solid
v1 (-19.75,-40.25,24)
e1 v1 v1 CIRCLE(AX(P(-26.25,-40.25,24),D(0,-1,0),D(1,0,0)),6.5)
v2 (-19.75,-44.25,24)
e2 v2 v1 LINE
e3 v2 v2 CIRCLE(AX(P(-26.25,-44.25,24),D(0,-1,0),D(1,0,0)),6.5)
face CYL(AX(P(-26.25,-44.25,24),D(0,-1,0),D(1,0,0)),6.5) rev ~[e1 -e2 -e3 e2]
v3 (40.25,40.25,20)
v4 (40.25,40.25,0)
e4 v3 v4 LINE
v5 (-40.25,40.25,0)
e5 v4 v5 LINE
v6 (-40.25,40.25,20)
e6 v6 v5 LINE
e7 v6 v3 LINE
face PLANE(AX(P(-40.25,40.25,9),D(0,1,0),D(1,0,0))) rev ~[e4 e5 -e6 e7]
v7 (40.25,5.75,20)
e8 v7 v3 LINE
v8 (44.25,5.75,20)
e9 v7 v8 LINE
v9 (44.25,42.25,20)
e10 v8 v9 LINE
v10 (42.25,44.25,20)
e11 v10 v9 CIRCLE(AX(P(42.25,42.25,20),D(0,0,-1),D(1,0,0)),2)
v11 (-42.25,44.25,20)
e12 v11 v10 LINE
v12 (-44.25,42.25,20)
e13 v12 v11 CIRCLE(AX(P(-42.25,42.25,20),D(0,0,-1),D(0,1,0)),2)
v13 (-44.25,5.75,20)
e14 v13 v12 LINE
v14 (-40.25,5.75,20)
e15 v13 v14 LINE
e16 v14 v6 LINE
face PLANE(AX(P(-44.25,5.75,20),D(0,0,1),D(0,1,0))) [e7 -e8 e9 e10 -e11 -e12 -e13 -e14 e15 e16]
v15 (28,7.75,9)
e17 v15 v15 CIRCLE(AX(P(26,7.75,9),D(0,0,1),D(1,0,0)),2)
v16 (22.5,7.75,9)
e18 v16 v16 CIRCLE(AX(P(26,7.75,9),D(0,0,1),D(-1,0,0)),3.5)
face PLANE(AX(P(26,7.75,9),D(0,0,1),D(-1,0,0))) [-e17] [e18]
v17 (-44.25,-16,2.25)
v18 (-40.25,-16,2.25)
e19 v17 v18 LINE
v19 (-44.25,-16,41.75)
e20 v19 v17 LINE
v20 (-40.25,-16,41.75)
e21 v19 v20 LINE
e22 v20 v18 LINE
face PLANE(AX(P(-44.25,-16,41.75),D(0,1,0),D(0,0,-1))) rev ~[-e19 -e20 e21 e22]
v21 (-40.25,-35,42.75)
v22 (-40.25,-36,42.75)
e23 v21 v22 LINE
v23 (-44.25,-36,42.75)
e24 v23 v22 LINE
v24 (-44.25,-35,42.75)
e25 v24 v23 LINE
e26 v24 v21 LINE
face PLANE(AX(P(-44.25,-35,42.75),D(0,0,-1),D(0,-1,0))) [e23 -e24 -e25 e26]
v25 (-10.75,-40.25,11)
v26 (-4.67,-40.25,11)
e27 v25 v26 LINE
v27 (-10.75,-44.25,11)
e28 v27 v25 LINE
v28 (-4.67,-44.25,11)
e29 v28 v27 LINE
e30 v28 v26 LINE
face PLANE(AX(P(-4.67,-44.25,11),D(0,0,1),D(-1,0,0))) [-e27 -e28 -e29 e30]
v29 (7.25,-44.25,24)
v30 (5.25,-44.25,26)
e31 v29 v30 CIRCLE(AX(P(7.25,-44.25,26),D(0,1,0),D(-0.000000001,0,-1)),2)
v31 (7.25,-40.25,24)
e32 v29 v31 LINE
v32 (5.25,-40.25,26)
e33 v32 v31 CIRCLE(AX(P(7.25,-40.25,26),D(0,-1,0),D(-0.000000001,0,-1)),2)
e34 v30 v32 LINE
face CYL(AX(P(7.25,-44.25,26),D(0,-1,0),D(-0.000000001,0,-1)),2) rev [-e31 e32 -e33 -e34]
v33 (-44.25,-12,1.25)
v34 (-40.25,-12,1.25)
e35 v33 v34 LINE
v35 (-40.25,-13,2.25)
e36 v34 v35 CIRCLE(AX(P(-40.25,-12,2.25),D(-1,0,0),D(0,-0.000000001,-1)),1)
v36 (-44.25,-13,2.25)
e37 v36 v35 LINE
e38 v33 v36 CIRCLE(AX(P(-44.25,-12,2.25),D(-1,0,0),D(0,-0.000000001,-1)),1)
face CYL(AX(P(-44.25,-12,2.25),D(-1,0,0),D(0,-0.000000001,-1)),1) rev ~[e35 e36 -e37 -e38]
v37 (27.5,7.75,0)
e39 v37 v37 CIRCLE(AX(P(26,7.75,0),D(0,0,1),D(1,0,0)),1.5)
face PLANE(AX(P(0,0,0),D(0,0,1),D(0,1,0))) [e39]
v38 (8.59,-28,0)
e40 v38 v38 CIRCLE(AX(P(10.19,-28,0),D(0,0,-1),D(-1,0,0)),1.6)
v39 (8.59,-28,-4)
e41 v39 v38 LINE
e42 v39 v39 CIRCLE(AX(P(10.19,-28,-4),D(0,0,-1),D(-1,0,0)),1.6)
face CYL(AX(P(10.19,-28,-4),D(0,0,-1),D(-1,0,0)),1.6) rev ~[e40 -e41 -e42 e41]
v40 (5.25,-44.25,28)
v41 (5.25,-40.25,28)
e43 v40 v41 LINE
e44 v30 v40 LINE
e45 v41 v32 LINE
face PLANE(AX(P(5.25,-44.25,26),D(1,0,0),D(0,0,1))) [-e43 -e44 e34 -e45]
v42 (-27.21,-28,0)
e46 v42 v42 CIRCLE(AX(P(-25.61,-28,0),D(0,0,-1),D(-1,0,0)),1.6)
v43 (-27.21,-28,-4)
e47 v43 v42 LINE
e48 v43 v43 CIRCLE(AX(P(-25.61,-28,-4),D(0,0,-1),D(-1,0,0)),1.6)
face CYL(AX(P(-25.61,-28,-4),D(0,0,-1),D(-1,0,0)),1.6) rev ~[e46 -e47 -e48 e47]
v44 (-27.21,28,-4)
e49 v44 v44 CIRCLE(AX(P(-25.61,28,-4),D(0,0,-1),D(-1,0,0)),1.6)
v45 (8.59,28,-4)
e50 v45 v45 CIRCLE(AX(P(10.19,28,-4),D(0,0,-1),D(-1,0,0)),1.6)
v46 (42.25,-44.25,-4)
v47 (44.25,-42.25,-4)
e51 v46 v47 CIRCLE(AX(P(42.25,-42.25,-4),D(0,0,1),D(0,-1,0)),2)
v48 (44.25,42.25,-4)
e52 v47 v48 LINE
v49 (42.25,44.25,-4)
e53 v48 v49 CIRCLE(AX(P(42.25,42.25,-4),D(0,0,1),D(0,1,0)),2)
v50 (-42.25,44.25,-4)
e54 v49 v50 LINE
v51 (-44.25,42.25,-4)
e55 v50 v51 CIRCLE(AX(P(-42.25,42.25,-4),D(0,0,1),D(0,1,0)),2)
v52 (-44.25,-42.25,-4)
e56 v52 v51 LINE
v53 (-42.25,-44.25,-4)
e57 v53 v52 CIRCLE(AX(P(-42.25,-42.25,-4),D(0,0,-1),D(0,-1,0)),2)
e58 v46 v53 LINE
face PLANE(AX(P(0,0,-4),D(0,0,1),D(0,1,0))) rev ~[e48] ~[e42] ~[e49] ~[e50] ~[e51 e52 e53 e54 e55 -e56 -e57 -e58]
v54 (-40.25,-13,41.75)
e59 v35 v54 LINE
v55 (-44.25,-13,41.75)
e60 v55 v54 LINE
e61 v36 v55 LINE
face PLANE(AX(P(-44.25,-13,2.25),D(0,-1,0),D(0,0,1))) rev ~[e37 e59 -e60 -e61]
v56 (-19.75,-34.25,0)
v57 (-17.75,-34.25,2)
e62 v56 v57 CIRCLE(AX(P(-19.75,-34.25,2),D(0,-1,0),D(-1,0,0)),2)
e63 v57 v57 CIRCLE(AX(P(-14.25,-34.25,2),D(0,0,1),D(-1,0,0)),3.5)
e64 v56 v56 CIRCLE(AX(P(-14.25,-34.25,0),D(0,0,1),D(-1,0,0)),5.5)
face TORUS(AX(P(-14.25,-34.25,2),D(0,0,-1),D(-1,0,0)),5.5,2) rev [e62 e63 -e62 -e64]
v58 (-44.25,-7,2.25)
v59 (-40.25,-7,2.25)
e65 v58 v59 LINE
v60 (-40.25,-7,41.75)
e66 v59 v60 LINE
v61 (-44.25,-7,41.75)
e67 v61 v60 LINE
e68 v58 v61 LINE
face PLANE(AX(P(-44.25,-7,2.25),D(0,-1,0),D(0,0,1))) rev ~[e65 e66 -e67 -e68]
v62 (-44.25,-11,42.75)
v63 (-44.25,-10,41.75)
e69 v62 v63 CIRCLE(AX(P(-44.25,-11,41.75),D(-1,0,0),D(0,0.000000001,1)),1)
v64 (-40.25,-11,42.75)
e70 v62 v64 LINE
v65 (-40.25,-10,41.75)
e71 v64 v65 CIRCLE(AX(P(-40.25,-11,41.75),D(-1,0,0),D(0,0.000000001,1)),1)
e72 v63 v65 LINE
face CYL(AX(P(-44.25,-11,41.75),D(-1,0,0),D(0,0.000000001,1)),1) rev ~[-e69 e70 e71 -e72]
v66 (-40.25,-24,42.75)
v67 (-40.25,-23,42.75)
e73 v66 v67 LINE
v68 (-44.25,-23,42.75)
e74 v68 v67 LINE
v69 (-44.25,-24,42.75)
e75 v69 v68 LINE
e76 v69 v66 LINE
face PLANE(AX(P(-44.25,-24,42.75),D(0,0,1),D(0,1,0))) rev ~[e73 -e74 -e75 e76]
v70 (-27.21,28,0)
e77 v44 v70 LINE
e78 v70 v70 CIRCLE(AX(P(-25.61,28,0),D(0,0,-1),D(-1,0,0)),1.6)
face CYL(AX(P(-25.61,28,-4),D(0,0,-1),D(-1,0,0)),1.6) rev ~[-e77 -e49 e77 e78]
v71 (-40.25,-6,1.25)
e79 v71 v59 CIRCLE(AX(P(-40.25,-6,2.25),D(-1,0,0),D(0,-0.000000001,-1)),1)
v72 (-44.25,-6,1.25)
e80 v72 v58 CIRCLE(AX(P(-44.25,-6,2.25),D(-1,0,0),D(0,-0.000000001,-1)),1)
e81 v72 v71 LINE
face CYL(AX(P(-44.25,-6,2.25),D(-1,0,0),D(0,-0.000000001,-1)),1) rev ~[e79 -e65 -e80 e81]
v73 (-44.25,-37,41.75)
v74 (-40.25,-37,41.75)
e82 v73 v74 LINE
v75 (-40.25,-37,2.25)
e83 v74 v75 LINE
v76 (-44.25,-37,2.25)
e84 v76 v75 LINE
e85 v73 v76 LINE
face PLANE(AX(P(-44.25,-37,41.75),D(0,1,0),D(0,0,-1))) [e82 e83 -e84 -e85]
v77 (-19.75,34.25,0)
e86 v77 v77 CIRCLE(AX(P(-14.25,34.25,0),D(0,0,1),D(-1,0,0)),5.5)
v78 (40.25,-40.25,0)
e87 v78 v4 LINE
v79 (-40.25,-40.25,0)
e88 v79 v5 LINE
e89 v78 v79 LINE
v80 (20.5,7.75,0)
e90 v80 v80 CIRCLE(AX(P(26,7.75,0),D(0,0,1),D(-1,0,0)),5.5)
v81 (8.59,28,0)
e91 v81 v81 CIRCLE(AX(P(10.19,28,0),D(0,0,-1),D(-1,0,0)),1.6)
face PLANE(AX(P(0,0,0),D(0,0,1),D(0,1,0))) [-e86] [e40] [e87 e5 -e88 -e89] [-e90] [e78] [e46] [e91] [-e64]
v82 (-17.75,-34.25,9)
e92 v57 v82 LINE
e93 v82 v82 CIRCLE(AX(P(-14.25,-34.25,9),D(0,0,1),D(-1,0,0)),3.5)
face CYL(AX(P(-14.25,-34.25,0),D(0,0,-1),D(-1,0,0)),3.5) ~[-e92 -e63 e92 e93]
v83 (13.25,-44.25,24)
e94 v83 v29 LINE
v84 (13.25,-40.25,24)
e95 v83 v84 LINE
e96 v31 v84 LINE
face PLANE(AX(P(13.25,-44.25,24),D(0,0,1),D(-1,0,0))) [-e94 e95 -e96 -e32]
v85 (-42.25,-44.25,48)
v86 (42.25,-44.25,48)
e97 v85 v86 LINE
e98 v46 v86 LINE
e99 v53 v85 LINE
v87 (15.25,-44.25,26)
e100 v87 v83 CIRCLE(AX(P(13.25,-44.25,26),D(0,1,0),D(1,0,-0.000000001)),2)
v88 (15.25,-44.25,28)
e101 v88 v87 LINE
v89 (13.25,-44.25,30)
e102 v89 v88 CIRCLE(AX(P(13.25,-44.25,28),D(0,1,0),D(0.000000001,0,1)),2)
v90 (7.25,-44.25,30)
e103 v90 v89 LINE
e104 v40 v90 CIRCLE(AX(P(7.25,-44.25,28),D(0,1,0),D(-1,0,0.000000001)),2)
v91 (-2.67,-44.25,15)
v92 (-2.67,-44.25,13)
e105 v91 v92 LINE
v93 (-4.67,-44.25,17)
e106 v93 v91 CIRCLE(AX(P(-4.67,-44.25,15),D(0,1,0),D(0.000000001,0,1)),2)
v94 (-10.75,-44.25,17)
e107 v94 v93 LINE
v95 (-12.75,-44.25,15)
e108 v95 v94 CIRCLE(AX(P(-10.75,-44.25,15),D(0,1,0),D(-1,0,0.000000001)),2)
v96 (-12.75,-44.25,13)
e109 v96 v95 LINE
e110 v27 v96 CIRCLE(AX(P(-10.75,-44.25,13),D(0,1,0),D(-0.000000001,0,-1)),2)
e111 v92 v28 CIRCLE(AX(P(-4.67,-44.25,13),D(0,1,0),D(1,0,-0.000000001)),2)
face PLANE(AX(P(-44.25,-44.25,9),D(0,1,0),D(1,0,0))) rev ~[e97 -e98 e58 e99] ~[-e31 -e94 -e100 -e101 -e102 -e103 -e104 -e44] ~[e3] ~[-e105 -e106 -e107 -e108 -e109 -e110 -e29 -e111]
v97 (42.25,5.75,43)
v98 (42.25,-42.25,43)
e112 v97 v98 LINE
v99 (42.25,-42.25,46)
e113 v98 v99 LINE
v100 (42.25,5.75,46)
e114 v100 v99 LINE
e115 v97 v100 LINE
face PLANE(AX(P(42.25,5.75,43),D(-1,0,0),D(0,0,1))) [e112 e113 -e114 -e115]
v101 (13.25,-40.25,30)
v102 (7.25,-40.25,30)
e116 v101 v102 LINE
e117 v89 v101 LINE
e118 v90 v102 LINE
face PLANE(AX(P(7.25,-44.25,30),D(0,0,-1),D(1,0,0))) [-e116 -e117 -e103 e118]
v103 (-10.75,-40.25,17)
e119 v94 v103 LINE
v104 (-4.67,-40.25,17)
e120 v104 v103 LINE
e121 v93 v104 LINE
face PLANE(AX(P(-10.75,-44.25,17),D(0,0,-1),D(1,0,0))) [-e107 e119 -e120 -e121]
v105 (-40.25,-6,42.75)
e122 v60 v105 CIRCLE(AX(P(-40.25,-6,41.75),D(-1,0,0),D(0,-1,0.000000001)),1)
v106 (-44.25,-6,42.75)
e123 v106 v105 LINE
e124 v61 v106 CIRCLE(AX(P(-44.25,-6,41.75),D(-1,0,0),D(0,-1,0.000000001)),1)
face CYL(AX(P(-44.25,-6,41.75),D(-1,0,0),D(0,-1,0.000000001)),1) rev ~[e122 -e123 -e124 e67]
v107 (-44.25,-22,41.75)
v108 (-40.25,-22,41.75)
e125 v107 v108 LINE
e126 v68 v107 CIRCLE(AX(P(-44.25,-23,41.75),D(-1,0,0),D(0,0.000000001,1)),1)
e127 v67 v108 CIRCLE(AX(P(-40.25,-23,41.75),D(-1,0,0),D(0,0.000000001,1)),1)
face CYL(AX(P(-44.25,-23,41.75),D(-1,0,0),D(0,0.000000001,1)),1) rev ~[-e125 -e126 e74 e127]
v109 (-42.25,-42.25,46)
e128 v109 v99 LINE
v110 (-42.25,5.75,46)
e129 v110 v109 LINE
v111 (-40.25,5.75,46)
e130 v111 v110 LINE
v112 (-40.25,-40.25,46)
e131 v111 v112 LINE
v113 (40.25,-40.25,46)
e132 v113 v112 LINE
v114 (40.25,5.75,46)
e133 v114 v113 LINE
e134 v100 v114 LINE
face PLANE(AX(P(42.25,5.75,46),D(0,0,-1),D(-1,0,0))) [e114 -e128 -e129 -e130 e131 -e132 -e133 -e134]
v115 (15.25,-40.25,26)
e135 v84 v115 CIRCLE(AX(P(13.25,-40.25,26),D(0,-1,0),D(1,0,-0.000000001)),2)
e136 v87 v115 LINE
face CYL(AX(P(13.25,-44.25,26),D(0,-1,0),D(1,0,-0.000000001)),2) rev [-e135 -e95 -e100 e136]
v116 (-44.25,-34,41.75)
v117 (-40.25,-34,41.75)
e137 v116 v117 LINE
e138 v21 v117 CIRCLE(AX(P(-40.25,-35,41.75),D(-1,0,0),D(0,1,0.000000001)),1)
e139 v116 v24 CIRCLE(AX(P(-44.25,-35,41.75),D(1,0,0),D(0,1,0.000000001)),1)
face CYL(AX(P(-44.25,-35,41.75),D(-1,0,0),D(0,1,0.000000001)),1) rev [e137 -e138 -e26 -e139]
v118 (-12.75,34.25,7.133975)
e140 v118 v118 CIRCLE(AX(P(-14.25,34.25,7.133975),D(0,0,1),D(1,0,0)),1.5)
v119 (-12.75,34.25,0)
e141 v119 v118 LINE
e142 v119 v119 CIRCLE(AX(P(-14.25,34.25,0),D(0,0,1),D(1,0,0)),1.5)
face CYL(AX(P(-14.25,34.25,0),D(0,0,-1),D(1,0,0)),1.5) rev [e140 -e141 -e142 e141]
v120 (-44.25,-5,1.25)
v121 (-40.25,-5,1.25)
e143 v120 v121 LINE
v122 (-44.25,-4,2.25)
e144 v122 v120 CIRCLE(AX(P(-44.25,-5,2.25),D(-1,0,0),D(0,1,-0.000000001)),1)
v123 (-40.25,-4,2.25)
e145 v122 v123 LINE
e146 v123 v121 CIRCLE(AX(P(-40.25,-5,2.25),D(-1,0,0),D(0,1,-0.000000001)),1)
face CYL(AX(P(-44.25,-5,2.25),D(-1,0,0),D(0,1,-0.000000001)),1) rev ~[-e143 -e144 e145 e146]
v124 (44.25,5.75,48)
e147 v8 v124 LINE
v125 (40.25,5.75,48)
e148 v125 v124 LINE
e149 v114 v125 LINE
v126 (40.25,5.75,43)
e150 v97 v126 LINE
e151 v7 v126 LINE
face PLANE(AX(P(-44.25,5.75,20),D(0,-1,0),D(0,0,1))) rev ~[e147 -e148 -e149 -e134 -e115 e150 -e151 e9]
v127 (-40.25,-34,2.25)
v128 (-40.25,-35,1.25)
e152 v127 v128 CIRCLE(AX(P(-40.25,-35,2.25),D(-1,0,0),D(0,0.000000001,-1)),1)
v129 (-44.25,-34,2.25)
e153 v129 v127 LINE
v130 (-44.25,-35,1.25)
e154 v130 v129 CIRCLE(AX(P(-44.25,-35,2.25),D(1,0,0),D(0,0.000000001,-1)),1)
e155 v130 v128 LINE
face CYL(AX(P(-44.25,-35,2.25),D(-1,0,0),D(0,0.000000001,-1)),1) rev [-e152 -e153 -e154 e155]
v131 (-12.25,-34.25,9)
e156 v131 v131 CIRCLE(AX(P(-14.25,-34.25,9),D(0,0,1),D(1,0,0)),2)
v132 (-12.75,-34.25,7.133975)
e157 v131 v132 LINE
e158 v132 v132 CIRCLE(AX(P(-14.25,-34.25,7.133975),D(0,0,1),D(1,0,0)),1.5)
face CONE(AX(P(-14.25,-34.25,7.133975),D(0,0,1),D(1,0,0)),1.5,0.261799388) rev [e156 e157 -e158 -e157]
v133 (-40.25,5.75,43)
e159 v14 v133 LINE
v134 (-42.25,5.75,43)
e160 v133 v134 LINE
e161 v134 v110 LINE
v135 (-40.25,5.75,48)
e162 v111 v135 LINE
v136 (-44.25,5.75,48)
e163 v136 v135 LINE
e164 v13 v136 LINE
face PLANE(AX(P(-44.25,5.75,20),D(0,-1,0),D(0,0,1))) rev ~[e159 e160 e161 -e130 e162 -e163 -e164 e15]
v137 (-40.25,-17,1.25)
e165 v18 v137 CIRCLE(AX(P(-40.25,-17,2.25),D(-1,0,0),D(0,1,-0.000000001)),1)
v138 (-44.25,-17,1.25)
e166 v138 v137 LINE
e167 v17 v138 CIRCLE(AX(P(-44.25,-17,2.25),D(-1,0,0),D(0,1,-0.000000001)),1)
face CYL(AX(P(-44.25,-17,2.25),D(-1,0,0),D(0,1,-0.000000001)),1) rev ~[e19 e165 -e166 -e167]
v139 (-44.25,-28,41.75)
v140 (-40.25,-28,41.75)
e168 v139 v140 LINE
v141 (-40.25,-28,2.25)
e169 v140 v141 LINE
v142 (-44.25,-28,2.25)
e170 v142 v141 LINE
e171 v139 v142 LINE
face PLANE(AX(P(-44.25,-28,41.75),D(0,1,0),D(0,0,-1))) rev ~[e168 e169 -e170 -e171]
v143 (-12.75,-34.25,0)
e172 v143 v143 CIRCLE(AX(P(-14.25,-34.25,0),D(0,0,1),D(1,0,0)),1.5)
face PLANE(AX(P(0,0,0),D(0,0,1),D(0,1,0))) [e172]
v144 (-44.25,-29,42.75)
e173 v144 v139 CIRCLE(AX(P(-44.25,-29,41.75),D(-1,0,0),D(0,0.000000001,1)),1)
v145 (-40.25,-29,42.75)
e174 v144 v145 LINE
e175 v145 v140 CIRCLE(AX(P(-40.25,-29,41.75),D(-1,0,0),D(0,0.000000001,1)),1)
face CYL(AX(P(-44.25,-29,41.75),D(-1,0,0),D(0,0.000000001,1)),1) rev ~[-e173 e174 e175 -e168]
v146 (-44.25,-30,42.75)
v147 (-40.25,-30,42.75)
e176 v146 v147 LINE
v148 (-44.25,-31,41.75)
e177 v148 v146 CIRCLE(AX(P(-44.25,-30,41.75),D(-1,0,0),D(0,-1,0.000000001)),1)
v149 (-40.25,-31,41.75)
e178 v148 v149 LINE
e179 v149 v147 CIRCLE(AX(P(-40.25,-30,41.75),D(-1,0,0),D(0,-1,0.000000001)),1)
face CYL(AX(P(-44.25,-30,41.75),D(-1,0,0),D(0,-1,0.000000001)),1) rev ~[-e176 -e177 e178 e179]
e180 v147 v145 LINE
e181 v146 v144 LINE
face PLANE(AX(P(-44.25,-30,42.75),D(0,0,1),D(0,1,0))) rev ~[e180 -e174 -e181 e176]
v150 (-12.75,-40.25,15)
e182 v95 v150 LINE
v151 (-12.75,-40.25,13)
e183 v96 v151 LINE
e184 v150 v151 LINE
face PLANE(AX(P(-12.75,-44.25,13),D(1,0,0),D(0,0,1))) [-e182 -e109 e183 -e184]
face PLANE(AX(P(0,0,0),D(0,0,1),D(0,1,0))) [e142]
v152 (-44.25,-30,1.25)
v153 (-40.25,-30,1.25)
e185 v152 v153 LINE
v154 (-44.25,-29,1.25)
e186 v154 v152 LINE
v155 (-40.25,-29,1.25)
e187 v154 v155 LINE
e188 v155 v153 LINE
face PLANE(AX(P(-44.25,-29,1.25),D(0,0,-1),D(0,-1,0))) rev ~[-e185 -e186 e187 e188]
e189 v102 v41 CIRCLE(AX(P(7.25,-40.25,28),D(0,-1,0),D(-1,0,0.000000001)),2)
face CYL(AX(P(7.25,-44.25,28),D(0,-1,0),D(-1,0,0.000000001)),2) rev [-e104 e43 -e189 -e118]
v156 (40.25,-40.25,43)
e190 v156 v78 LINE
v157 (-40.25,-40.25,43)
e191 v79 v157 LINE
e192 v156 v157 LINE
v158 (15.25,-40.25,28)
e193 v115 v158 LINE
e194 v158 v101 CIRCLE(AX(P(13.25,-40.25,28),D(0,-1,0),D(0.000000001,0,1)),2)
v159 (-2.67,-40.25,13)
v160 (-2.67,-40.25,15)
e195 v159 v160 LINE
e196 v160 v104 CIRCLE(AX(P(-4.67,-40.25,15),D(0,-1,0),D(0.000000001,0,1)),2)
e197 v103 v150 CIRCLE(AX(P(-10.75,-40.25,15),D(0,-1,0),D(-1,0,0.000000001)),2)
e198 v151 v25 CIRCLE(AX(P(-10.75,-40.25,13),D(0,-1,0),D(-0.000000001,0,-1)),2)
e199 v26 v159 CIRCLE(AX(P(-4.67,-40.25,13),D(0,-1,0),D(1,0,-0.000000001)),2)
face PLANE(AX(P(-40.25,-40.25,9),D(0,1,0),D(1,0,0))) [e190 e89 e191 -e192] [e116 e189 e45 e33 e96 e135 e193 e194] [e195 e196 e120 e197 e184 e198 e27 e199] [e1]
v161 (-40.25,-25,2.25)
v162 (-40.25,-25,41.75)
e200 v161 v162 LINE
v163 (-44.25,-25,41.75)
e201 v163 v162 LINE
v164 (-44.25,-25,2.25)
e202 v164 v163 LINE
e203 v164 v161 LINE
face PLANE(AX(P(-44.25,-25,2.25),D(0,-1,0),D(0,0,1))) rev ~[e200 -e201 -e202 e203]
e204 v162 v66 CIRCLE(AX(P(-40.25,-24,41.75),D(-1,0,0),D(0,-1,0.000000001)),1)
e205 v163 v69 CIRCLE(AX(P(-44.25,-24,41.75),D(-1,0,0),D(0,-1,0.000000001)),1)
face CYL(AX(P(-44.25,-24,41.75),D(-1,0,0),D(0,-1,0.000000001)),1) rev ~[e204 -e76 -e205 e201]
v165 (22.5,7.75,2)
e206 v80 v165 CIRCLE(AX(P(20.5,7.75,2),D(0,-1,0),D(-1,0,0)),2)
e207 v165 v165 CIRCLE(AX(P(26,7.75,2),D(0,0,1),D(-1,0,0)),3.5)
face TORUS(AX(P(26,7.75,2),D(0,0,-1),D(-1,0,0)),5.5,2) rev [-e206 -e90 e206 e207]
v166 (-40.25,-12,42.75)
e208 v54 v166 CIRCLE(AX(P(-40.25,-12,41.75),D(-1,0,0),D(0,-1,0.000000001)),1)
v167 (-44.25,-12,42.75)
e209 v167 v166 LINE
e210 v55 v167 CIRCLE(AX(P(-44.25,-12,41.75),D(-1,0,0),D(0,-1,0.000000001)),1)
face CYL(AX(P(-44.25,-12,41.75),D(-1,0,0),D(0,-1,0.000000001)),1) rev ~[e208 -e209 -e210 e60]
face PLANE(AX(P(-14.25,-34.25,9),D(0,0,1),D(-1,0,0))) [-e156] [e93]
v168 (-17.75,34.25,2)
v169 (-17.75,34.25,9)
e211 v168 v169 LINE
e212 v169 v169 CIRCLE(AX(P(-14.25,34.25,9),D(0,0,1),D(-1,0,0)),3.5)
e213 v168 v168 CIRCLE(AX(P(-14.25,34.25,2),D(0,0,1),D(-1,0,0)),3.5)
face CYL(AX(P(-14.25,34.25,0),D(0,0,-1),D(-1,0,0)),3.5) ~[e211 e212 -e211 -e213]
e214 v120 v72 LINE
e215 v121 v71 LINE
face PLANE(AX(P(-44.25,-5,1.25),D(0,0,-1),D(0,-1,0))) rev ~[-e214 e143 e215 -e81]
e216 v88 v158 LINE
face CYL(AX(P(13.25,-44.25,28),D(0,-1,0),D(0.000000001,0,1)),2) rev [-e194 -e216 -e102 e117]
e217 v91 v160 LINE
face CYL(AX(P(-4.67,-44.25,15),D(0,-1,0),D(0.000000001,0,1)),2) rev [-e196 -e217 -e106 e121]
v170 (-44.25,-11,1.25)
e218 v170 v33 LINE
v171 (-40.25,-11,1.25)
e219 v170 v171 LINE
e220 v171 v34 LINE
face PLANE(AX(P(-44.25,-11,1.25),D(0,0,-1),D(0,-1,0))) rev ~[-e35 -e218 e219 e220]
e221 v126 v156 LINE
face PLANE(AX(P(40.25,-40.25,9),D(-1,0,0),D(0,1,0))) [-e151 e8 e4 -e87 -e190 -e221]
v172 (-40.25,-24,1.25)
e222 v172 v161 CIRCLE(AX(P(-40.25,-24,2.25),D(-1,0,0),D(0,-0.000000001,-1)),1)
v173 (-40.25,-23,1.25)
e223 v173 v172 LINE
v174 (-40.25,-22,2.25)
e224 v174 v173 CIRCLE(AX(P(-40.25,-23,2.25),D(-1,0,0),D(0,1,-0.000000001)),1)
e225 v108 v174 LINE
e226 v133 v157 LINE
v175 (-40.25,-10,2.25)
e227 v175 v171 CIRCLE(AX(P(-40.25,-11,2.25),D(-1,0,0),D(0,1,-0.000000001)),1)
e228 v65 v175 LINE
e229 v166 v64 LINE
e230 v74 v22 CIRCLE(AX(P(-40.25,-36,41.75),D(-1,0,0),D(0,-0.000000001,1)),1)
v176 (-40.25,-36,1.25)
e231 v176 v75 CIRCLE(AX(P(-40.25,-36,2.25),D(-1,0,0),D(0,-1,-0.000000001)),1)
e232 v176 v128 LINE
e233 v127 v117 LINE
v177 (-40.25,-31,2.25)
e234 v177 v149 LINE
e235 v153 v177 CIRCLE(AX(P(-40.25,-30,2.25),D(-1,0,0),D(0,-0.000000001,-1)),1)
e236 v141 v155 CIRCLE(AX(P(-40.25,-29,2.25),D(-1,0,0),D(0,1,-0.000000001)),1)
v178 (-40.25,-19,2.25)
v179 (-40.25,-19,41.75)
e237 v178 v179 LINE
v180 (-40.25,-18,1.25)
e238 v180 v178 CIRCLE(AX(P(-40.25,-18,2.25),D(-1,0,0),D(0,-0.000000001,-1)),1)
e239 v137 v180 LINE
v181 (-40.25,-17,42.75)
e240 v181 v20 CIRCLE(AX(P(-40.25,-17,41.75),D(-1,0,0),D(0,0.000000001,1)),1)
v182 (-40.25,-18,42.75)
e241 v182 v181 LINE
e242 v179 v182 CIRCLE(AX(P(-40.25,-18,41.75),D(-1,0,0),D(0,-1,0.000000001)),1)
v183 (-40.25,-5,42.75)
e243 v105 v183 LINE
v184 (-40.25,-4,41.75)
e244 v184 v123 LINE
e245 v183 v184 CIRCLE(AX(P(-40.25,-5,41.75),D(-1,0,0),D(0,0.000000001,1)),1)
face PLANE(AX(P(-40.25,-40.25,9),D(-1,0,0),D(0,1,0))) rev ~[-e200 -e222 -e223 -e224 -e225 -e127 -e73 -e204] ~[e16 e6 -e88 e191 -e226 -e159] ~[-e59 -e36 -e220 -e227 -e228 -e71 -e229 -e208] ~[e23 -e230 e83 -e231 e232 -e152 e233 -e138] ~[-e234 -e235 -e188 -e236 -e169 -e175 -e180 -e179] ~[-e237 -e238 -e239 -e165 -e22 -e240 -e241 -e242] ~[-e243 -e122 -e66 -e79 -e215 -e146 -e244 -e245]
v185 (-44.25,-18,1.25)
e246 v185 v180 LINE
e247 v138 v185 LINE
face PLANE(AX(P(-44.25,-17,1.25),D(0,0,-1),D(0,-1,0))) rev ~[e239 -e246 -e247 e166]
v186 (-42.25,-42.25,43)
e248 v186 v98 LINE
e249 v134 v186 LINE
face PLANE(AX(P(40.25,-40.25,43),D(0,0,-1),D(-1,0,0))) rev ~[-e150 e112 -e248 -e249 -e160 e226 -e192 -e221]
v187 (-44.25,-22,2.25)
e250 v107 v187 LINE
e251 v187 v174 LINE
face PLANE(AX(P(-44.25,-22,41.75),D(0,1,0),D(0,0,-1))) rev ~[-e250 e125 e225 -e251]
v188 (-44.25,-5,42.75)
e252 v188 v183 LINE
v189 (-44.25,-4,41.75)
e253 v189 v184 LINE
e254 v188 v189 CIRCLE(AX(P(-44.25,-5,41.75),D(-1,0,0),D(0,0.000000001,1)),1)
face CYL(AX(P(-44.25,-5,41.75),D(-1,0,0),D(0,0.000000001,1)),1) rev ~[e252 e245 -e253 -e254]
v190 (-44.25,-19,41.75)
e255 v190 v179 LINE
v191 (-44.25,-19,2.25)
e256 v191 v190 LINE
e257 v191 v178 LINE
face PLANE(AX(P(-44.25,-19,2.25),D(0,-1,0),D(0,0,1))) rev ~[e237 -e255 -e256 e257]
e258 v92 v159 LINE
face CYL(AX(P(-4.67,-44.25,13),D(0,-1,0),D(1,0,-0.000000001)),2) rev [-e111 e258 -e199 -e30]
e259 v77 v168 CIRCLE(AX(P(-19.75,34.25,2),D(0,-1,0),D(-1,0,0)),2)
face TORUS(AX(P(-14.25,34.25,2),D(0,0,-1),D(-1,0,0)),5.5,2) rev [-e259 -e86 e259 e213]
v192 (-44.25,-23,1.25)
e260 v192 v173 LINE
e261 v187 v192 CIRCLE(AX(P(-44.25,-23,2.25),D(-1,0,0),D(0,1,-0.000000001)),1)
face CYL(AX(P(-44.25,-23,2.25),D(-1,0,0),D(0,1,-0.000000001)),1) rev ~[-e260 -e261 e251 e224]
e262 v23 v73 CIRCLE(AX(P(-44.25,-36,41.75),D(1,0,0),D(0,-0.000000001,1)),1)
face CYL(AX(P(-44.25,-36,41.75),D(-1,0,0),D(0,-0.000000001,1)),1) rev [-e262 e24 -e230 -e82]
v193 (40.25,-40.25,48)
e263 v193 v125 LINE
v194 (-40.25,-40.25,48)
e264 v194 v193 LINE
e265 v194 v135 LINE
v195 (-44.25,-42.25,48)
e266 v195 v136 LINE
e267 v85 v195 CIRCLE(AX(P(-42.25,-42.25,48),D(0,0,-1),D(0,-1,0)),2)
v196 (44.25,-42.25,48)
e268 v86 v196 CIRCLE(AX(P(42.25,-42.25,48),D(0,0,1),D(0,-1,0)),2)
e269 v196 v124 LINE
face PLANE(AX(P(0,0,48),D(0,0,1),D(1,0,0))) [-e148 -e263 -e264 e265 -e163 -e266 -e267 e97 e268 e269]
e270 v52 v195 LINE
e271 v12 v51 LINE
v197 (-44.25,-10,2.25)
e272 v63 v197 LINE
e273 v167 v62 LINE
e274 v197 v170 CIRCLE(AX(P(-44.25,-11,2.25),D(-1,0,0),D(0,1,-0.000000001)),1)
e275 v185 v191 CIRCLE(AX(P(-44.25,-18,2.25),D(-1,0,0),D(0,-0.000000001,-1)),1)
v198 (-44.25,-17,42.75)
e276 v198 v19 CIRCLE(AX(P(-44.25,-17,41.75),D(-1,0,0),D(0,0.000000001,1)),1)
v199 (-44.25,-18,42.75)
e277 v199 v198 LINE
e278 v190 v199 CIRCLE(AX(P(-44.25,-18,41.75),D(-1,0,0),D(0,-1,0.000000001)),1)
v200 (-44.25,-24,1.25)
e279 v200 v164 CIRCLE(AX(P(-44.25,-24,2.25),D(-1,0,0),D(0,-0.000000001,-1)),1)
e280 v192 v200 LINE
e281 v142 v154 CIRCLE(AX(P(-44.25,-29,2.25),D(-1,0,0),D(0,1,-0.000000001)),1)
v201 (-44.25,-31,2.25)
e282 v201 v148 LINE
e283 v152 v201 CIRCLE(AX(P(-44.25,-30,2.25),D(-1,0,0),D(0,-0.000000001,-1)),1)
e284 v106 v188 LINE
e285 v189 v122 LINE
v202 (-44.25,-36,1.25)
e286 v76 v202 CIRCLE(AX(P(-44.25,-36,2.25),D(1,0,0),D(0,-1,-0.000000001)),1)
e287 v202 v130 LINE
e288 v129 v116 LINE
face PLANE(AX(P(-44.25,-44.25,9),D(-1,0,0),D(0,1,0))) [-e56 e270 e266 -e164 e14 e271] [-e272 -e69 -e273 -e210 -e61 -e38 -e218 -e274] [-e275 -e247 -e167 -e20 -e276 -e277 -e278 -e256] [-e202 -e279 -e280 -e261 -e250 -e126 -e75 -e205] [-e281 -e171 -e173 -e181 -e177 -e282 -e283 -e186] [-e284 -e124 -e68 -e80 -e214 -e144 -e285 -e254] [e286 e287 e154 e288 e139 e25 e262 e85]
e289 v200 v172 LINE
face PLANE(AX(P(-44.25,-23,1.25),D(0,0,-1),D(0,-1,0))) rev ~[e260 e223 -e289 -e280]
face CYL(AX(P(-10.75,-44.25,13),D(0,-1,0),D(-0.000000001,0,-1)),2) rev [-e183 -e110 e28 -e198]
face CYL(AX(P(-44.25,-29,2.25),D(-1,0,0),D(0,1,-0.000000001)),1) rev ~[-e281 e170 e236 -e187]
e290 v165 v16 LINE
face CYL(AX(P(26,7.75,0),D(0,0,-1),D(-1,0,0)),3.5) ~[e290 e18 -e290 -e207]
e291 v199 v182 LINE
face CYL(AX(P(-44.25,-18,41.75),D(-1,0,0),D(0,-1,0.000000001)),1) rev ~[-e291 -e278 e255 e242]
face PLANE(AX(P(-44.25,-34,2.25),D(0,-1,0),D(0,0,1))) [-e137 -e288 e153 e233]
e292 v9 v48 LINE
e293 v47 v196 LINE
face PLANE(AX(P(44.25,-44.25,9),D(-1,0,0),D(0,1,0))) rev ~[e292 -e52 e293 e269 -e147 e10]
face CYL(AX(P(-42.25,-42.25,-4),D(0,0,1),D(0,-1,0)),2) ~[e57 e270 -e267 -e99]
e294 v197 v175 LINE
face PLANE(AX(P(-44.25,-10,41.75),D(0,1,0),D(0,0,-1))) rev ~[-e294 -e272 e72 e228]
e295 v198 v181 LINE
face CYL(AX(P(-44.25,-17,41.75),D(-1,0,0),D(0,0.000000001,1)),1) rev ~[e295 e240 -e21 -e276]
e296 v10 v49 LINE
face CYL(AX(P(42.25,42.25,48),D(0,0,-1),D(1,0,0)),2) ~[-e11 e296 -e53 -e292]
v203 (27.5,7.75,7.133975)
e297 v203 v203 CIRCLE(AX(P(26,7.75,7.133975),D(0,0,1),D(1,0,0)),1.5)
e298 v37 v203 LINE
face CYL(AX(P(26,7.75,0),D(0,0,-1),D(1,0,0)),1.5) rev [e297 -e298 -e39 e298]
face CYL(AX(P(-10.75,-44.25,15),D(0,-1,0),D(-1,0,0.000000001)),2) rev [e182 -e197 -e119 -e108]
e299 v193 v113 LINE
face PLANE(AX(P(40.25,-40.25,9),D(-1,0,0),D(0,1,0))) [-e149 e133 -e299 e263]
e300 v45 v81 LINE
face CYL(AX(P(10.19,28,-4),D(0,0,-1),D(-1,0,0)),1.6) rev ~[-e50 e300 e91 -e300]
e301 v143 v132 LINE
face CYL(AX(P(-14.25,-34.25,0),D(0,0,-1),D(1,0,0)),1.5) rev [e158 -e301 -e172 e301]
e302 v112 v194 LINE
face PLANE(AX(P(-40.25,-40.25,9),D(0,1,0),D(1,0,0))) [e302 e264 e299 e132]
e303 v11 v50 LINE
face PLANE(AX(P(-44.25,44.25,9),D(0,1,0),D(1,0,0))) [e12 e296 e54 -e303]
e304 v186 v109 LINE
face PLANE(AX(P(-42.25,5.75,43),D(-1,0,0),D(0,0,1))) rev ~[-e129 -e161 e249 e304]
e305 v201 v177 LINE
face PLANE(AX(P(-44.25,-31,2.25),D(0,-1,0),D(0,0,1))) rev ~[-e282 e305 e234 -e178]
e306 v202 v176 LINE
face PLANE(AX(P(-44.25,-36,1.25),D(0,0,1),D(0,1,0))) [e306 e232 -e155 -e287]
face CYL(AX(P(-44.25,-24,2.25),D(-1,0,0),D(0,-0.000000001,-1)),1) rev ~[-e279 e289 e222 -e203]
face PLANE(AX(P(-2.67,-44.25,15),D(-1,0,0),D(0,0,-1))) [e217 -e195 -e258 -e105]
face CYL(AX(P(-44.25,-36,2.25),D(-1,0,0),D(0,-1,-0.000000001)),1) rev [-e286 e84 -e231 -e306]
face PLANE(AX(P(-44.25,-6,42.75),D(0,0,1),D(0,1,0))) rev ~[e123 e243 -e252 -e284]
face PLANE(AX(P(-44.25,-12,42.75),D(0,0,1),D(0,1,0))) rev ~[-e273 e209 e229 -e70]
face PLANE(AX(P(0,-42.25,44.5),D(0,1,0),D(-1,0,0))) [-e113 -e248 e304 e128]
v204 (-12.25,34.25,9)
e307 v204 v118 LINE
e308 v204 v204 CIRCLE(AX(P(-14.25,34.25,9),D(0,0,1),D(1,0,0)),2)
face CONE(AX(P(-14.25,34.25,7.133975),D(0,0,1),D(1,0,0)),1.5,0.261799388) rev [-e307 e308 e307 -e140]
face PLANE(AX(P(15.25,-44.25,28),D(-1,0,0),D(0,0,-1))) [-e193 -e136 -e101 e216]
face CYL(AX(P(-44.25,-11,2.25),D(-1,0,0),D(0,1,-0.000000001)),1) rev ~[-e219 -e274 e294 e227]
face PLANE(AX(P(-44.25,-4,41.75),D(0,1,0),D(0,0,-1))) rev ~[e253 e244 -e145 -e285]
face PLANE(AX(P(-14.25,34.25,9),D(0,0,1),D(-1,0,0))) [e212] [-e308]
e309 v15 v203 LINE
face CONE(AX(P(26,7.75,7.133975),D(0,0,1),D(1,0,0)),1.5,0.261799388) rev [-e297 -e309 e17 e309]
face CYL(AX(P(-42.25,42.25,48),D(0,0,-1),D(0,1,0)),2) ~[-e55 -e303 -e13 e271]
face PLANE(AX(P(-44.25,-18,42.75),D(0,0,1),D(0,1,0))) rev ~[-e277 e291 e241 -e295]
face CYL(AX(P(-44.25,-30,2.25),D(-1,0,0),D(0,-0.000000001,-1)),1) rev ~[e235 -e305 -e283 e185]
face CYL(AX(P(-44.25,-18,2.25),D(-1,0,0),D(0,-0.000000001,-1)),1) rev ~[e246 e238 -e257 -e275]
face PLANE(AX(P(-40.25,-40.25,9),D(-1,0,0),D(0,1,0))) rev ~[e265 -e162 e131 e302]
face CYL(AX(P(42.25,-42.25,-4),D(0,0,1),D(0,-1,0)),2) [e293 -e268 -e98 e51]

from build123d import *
from OCP.BRepFilletAPI import BRepFilletAPI_MakeChamfer

# Parameters (mm, degrees)
SKETCH1_W           = 88.5
SKETCH1_H           = 88.5
BOSS_EXTRUDE1_DEPTH = 4
SKETCH1_3_W         = 88.5
SKETCH1_3_H         = 88.5
SKETCH1_3_W_2       = 80.5
SKETCH1_3_H_2       = 80.5
SKETCH1_3_R         = 3.5
SKETCH1_3_R_2       = 1.5
BOSS_EXTRUDE2_DEPTH = 9
CHAMFER1_SIZE       = 0.5
CHAMFER1_SIZE2      = 1.866025404
SKETCH4_W           = 88.5
SKETCH4_H           = 88.5
SKETCH4_W_2         = 80.5
SKETCH4_H_2         = 80.5
BOSS_EXTRUDE3_DEPTH = 39
SKETCH5_R           = 6.5
CUT_EXTRUDE1_DEPTH  = 16
FILLET1_R           = 2
FILLET2_R           = 2
FILLET3_R           = 2
FILLET4_R           = 2
FILLET5_R           = 2
FILLET6_R           = 2
FILLET7_R           = 2
CUT_EXTRUDE2_DEPTH  = 10
SKETCH9_W           = 28
SKETCH9_H           = 38.5
CUT_EXTRUDE3_DEPTH  = 88.5
SKETCH13_R          = 1.6
CUT_EXTRUDE5_DEPTH  = 10
SKETCH14_W          = 2
SKETCH14_H          = 3
CUT_EXTRUDE6_DEPTH  = 48
SKETCH15_W          = 2
SKETCH15_H          = 3
CUT_EXTRUDE7_DEPTH  = 48
SKETCH16_W          = 80.5
SKETCH16_H          = 3
CUT_EXTRUDE8_DEPTH  = 2


with BuildPart() as part:
    # Sketch1 → Boss-Extrude1 (new body)
    with BuildSketch(Plane(origin=(0, 0, 0), x_dir=(0, 1, 0), z_dir=(0, 0, 1))):
        Rectangle(SKETCH1_W, SKETCH1_H)
    extrude(amount=-BOSS_EXTRUDE1_DEPTH)

    # Sketch1<3> → Boss-Extrude2 (add)
    # profile 1 of 4: a face of its own
    with BuildSketch(Plane(origin=(0, 0, 0), x_dir=(0, 1, 0), z_dir=(0, 0, 1))):
        Rectangle(SKETCH1_3_W, SKETCH1_3_H)
        Rectangle(SKETCH1_3_W_2, SKETCH1_3_H_2, mode=Mode.SUBTRACT)
    # profile 2 of 4: a face of its own
    with BuildSketch(Plane(origin=(0, 0, 0), x_dir=(0, 1, 0), z_dir=(0, 0, 1))):
        with Locations((-34.25, 14.25)):
            Circle(SKETCH1_3_R)
        with Locations((-34.25, 14.25)):
            Circle(SKETCH1_3_R_2, mode=Mode.SUBTRACT)
    # profile 3 of 4: a face of its own
    with BuildSketch(Plane(origin=(0, 0, 0), x_dir=(0, 1, 0), z_dir=(0, 0, 1))):
        with Locations((34.25, 14.25)):
            Circle(SKETCH1_3_R)
        with Locations((34.25, 14.25)):
            Circle(SKETCH1_3_R_2, mode=Mode.SUBTRACT)
    # profile 4 of 4: a face of its own
    with BuildSketch(Plane(origin=(0, 0, 0), x_dir=(0, 1, 0), z_dir=(0, 0, 1))):
        with Locations((7.75, -26)):
            Circle(SKETCH1_3_R)
        with Locations((7.75, -26)):
            Circle(SKETCH1_3_R_2, mode=Mode.SUBTRACT)
    extrude(amount=BOSS_EXTRUDE2_DEPTH)

    # Chamfer1: one chamfer whose edges measure the first distance from different faces: ONE call of the kernel's chamfer builder (chamfer() names one face for all edges)
    chamfer1_edges_1 = [part.edges().sort_by_distance(p)[0] for p in [
        (-14.25, -35.75, 9),
    ]]
    chamfer1_side_1 = [part.faces().sort_by_distance(p)[0] for p in [
        (-14.25, -37.651005051, 9),
    ]]
    chamfer1_edges_2 = [part.edges().sort_by_distance(p)[0] for p in [
        (26, 6.25, 9),
    ]]
    chamfer1_side_2 = [part.faces().sort_by_distance(p)[0] for p in [
        (26, 4.348994949, 9),
    ]]
    chamfer1_edges_3 = [part.edges().sort_by_distance(p)[0] for p in [
        (-14.25, 32.75, 9),
    ]]
    chamfer1_side_3 = [part.faces().sort_by_distance(p)[0] for p in [
        (-14.25, 30.848994949, 9),
    ]]
    chamfer1 = BRepFilletAPI_MakeChamfer(part.part.solid().wrapped)
    for e in chamfer1_edges_1:
        chamfer1.Add(CHAMFER1_SIZE, CHAMFER1_SIZE2, e.wrapped, chamfer1_side_1[0].wrapped)  # the first distance lies on this face
    for e in chamfer1_edges_2:
        chamfer1.Add(CHAMFER1_SIZE, CHAMFER1_SIZE2, e.wrapped, chamfer1_side_2[0].wrapped)  # the first distance lies on this face
    for e in chamfer1_edges_3:
        chamfer1.Add(CHAMFER1_SIZE, CHAMFER1_SIZE2, e.wrapped, chamfer1_side_3[0].wrapped)  # the first distance lies on this face
    add(Compound.cast(chamfer1.Shape()), mode=Mode.REPLACE)

    # Sketch4 → Boss-Extrude3 (add)
    with BuildSketch(Plane.XY.offset(9)):
        Rectangle(SKETCH4_W, SKETCH4_H)
        Rectangle(SKETCH4_W_2, SKETCH4_H_2, mode=Mode.SUBTRACT)
    extrude(amount=BOSS_EXTRUDE3_DEPTH)

    # Sketch5 → Cut-Extrude1 (cut)
    with BuildSketch(Plane.XZ.offset(44.25)):
        with Locations((-26.25, 24)):
            Circle(SKETCH5_R)
        with BuildLine():
            Line((7.25, 30), (13.25, 30))
            ThreePointArc((13.25, 30), (14.664213562, 29.414213562), (15.25, 28))
            Line((15.25, 28), (15.25, 26))
            ThreePointArc((15.25, 26), (14.664213562, 24.585786438), (13.25, 24))
            Line((13.25, 24), (7.25, 24))
            ThreePointArc((7.25, 24), (5.835786438, 24.585786438), (5.25, 26))
            Line((5.25, 26), (5.25, 28))
            ThreePointArc((5.25, 28), (5.835786438, 29.414213562), (7.25, 30))
        make_face()
        with BuildLine():
            Line((-10.75, 17), (-4.67, 17))
            ThreePointArc((-4.67, 17), (-3.255786438, 16.414213562), (-2.67, 15))
            Line((-2.67, 15), (-2.67, 13))
            ThreePointArc((-2.67, 13), (-3.255786438, 11.585786438), (-4.67, 11))
            Line((-4.67, 11), (-10.75, 11))
            ThreePointArc((-10.75, 11), (-12.164213562, 11.585786438), (-12.75, 13))
            Line((-12.75, 13), (-12.75, 15))
            ThreePointArc((-12.75, 15), (-12.164213562, 16.414213562), (-10.75, 17))
        make_face()
    extrude(amount=-CUT_EXTRUDE1_DEPTH, mode=Mode.SUBTRACT)

    # Fillet1
    fillet1_edges = [part.edges().sort_by_distance(p)[0] for p in [
        (44.25, -44.25, 22),
    ]]
    fillet(fillet1_edges, radius=FILLET1_R)

    # Fillet2
    fillet2_edges = [part.edges().sort_by_distance(p)[0] for p in [
        (-44.25, -44.25, 22),
    ]]
    fillet(fillet2_edges, radius=FILLET2_R)

    # Fillet3
    fillet3_edges = [part.edges().sort_by_distance(p)[0] for p in [
        (44.25, 44.25, 22),
    ]]
    fillet(fillet3_edges, radius=FILLET3_R)

    # Fillet4
    fillet4_edges = [part.edges().sort_by_distance(p)[0] for p in [
        (-44.25, 44.25, 22),
    ]]
    fillet(fillet4_edges, radius=FILLET4_R)

    # Fillet5
    fillet5_edges = [part.edges().sort_by_distance(p)[0] for p in [
        (26, 4.25, 0),
    ]]
    fillet(fillet5_edges, radius=FILLET5_R)

    # Fillet6
    fillet6_edges = [part.edges().sort_by_distance(p)[0] for p in [
        (-14.25, -37.75, 0),
    ]]
    fillet(fillet6_edges, radius=FILLET6_R)

    # Fillet7
    fillet7_edges = [part.edges().sort_by_distance(p)[0] for p in [
        (-14.25, 30.75, 0),
    ]]
    fillet(fillet7_edges, radius=FILLET7_R)

    # Sketch6 → Cut-Extrude2 (cut)
    with BuildSketch(Plane(origin=(-44.25, 0, 0), x_dir=(0, -1, 0), z_dir=(-1, 0, 0))):
        with BuildLine():
            Line((36, 1.25), (35, 1.25))
            ThreePointArc((35, 1.25), (34.292893219, 1.542893219), (34, 2.25))
            Line((34, 2.25), (34, 41.75))
            ThreePointArc((34, 41.75), (34.292893219, 42.457106781), (35, 42.75))
            Line((35, 42.75), (36, 42.75))
            ThreePointArc((36, 42.75), (36.707106781, 42.457106781), (37, 41.75))
            Line((37, 41.75), (37, 2.25))
            ThreePointArc((37, 2.25), (36.707106781, 1.542893219), (36, 1.25))
        make_face()
        with BuildLine():
            Line((31, 2.25), (31, 41.75))
            ThreePointArc((31, 41.75), (30.707106781, 42.457106781), (30, 42.75))
            Line((30, 42.75), (29, 42.75))
            ThreePointArc((29, 42.75), (28.292893219, 42.457106781), (28, 41.75))
            Line((28, 41.75), (28, 2.25))
            ThreePointArc((28, 2.25), (28.292893219, 1.542893219), (29, 1.25))
            Line((29, 1.25), (30, 1.25))
            ThreePointArc((30, 1.25), (30.707106781, 1.542893219), (31, 2.25))
        make_face()
        with BuildLine():
            Line((25, 2.25), (25, 41.75))
            ThreePointArc((25, 41.75), (24.707106781, 42.457106781), (24, 42.75))
            Line((24, 42.75), (23, 42.75))
            ThreePointArc((23, 42.75), (22.292893219, 42.457106781), (22, 41.75))
            Line((22, 41.75), (22, 2.25))
            ThreePointArc((22, 2.25), (22.292893219, 1.542893219), (23, 1.25))
            Line((23, 1.25), (24, 1.25))
            ThreePointArc((24, 1.25), (24.707106781, 1.542893219), (25, 2.25))
        make_face()
        with BuildLine():
            Line((19, 2.25), (19, 41.75))
            ThreePointArc((19, 41.75), (18.707106781, 42.457106781), (18, 42.75))
            Line((18, 42.75), (17, 42.75))
            ThreePointArc((17, 42.75), (16.292893219, 42.457106781), (16, 41.75))
            Line((16, 41.75), (16, 2.25))
            ThreePointArc((16, 2.25), (16.292893219, 1.542893219), (17, 1.25))
            Line((17, 1.25), (18, 1.25))
            ThreePointArc((18, 1.25), (18.707106781, 1.542893219), (19, 2.25))
        make_face()
        with BuildLine():
            Line((13, 2.25), (13, 41.75))
            ThreePointArc((13, 41.75), (12.707106781, 42.457106781), (12, 42.75))
            Line((12, 42.75), (11, 42.75))
            ThreePointArc((11, 42.75), (10.292893219, 42.457106781), (10, 41.75))
            Line((10, 41.75), (10, 2.25))
            ThreePointArc((10, 2.25), (10.292893219, 1.542893219), (11, 1.25))
            Line((11, 1.25), (12, 1.25))
            ThreePointArc((12, 1.25), (12.707106781, 1.542893219), (13, 2.25))
        make_face()
        with BuildLine():
            Line((7, 2.25), (7, 41.75))
            ThreePointArc((7, 41.75), (6.707106781, 42.457106781), (6, 42.75))
            Line((6, 42.75), (5, 42.75))
            ThreePointArc((5, 42.75), (4.292893219, 42.457106781), (4, 41.75))
            Line((4, 41.75), (4, 2.25))
            ThreePointArc((4, 2.25), (4.292893219, 1.542893219), (5, 1.25))
            Line((5, 1.25), (6, 1.25))
            ThreePointArc((6, 1.25), (6.707106781, 1.542893219), (7, 2.25))
        make_face()
    extrude(amount=-CUT_EXTRUDE2_DEPTH, mode=Mode.SUBTRACT)

    # Sketch9 → Cut-Extrude3 (cut)
    with BuildSketch(Plane.ZY.offset(44.25)):
        with Locations((34, 25)):
            Rectangle(SKETCH9_W, SKETCH9_H)
    extrude(amount=-CUT_EXTRUDE3_DEPTH, mode=Mode.SUBTRACT)

    # Sketch13 → Cut-Extrude5 (cut)
    with BuildSketch(Plane(origin=(0, 0, -4), x_dir=(1, 0, 0), z_dir=(0, 0, -1))):
        with Locations((-25.61, 28)):
            Circle(SKETCH13_R)
        with Locations((10.19, 28)):
            Circle(SKETCH13_R)
        with Locations((-25.61, -28)):
            Circle(SKETCH13_R)
        with Locations((10.19, -28)):
            Circle(SKETCH13_R)
    extrude(amount=-CUT_EXTRUDE5_DEPTH, mode=Mode.SUBTRACT)

    # Sketch14 → Cut-Extrude6 (cut)
    with BuildSketch(Plane(origin=(0, 5.75, 0), x_dir=(-1, 0, 0), z_dir=(0, 1, 0))):
        with Locations((-41.25, 44.5)):
            Rectangle(SKETCH14_W, SKETCH14_H)
    extrude(amount=-CUT_EXTRUDE6_DEPTH, mode=Mode.SUBTRACT)

    # Sketch15 → Cut-Extrude7 (cut)
    with BuildSketch(Plane(origin=(0, 5.75, 0), x_dir=(-1, 0, 0), z_dir=(0, 1, 0))):
        with Locations((41.25, 44.5)):
            Rectangle(SKETCH15_W, SKETCH15_H)
    extrude(amount=-CUT_EXTRUDE7_DEPTH, mode=Mode.SUBTRACT)

    # Sketch16 → Cut-Extrude8 (cut)
    with BuildSketch(Plane(origin=(0, -40.25, 0), x_dir=(-1, 0, 0), z_dir=(0, 1, 0))):
        with Locations((0, 44.5)):
            Rectangle(SKETCH16_W, SKETCH16_H)
    extrude(amount=-CUT_EXTRUDE8_DEPTH, mode=Mode.SUBTRACT)


solid = part.part
